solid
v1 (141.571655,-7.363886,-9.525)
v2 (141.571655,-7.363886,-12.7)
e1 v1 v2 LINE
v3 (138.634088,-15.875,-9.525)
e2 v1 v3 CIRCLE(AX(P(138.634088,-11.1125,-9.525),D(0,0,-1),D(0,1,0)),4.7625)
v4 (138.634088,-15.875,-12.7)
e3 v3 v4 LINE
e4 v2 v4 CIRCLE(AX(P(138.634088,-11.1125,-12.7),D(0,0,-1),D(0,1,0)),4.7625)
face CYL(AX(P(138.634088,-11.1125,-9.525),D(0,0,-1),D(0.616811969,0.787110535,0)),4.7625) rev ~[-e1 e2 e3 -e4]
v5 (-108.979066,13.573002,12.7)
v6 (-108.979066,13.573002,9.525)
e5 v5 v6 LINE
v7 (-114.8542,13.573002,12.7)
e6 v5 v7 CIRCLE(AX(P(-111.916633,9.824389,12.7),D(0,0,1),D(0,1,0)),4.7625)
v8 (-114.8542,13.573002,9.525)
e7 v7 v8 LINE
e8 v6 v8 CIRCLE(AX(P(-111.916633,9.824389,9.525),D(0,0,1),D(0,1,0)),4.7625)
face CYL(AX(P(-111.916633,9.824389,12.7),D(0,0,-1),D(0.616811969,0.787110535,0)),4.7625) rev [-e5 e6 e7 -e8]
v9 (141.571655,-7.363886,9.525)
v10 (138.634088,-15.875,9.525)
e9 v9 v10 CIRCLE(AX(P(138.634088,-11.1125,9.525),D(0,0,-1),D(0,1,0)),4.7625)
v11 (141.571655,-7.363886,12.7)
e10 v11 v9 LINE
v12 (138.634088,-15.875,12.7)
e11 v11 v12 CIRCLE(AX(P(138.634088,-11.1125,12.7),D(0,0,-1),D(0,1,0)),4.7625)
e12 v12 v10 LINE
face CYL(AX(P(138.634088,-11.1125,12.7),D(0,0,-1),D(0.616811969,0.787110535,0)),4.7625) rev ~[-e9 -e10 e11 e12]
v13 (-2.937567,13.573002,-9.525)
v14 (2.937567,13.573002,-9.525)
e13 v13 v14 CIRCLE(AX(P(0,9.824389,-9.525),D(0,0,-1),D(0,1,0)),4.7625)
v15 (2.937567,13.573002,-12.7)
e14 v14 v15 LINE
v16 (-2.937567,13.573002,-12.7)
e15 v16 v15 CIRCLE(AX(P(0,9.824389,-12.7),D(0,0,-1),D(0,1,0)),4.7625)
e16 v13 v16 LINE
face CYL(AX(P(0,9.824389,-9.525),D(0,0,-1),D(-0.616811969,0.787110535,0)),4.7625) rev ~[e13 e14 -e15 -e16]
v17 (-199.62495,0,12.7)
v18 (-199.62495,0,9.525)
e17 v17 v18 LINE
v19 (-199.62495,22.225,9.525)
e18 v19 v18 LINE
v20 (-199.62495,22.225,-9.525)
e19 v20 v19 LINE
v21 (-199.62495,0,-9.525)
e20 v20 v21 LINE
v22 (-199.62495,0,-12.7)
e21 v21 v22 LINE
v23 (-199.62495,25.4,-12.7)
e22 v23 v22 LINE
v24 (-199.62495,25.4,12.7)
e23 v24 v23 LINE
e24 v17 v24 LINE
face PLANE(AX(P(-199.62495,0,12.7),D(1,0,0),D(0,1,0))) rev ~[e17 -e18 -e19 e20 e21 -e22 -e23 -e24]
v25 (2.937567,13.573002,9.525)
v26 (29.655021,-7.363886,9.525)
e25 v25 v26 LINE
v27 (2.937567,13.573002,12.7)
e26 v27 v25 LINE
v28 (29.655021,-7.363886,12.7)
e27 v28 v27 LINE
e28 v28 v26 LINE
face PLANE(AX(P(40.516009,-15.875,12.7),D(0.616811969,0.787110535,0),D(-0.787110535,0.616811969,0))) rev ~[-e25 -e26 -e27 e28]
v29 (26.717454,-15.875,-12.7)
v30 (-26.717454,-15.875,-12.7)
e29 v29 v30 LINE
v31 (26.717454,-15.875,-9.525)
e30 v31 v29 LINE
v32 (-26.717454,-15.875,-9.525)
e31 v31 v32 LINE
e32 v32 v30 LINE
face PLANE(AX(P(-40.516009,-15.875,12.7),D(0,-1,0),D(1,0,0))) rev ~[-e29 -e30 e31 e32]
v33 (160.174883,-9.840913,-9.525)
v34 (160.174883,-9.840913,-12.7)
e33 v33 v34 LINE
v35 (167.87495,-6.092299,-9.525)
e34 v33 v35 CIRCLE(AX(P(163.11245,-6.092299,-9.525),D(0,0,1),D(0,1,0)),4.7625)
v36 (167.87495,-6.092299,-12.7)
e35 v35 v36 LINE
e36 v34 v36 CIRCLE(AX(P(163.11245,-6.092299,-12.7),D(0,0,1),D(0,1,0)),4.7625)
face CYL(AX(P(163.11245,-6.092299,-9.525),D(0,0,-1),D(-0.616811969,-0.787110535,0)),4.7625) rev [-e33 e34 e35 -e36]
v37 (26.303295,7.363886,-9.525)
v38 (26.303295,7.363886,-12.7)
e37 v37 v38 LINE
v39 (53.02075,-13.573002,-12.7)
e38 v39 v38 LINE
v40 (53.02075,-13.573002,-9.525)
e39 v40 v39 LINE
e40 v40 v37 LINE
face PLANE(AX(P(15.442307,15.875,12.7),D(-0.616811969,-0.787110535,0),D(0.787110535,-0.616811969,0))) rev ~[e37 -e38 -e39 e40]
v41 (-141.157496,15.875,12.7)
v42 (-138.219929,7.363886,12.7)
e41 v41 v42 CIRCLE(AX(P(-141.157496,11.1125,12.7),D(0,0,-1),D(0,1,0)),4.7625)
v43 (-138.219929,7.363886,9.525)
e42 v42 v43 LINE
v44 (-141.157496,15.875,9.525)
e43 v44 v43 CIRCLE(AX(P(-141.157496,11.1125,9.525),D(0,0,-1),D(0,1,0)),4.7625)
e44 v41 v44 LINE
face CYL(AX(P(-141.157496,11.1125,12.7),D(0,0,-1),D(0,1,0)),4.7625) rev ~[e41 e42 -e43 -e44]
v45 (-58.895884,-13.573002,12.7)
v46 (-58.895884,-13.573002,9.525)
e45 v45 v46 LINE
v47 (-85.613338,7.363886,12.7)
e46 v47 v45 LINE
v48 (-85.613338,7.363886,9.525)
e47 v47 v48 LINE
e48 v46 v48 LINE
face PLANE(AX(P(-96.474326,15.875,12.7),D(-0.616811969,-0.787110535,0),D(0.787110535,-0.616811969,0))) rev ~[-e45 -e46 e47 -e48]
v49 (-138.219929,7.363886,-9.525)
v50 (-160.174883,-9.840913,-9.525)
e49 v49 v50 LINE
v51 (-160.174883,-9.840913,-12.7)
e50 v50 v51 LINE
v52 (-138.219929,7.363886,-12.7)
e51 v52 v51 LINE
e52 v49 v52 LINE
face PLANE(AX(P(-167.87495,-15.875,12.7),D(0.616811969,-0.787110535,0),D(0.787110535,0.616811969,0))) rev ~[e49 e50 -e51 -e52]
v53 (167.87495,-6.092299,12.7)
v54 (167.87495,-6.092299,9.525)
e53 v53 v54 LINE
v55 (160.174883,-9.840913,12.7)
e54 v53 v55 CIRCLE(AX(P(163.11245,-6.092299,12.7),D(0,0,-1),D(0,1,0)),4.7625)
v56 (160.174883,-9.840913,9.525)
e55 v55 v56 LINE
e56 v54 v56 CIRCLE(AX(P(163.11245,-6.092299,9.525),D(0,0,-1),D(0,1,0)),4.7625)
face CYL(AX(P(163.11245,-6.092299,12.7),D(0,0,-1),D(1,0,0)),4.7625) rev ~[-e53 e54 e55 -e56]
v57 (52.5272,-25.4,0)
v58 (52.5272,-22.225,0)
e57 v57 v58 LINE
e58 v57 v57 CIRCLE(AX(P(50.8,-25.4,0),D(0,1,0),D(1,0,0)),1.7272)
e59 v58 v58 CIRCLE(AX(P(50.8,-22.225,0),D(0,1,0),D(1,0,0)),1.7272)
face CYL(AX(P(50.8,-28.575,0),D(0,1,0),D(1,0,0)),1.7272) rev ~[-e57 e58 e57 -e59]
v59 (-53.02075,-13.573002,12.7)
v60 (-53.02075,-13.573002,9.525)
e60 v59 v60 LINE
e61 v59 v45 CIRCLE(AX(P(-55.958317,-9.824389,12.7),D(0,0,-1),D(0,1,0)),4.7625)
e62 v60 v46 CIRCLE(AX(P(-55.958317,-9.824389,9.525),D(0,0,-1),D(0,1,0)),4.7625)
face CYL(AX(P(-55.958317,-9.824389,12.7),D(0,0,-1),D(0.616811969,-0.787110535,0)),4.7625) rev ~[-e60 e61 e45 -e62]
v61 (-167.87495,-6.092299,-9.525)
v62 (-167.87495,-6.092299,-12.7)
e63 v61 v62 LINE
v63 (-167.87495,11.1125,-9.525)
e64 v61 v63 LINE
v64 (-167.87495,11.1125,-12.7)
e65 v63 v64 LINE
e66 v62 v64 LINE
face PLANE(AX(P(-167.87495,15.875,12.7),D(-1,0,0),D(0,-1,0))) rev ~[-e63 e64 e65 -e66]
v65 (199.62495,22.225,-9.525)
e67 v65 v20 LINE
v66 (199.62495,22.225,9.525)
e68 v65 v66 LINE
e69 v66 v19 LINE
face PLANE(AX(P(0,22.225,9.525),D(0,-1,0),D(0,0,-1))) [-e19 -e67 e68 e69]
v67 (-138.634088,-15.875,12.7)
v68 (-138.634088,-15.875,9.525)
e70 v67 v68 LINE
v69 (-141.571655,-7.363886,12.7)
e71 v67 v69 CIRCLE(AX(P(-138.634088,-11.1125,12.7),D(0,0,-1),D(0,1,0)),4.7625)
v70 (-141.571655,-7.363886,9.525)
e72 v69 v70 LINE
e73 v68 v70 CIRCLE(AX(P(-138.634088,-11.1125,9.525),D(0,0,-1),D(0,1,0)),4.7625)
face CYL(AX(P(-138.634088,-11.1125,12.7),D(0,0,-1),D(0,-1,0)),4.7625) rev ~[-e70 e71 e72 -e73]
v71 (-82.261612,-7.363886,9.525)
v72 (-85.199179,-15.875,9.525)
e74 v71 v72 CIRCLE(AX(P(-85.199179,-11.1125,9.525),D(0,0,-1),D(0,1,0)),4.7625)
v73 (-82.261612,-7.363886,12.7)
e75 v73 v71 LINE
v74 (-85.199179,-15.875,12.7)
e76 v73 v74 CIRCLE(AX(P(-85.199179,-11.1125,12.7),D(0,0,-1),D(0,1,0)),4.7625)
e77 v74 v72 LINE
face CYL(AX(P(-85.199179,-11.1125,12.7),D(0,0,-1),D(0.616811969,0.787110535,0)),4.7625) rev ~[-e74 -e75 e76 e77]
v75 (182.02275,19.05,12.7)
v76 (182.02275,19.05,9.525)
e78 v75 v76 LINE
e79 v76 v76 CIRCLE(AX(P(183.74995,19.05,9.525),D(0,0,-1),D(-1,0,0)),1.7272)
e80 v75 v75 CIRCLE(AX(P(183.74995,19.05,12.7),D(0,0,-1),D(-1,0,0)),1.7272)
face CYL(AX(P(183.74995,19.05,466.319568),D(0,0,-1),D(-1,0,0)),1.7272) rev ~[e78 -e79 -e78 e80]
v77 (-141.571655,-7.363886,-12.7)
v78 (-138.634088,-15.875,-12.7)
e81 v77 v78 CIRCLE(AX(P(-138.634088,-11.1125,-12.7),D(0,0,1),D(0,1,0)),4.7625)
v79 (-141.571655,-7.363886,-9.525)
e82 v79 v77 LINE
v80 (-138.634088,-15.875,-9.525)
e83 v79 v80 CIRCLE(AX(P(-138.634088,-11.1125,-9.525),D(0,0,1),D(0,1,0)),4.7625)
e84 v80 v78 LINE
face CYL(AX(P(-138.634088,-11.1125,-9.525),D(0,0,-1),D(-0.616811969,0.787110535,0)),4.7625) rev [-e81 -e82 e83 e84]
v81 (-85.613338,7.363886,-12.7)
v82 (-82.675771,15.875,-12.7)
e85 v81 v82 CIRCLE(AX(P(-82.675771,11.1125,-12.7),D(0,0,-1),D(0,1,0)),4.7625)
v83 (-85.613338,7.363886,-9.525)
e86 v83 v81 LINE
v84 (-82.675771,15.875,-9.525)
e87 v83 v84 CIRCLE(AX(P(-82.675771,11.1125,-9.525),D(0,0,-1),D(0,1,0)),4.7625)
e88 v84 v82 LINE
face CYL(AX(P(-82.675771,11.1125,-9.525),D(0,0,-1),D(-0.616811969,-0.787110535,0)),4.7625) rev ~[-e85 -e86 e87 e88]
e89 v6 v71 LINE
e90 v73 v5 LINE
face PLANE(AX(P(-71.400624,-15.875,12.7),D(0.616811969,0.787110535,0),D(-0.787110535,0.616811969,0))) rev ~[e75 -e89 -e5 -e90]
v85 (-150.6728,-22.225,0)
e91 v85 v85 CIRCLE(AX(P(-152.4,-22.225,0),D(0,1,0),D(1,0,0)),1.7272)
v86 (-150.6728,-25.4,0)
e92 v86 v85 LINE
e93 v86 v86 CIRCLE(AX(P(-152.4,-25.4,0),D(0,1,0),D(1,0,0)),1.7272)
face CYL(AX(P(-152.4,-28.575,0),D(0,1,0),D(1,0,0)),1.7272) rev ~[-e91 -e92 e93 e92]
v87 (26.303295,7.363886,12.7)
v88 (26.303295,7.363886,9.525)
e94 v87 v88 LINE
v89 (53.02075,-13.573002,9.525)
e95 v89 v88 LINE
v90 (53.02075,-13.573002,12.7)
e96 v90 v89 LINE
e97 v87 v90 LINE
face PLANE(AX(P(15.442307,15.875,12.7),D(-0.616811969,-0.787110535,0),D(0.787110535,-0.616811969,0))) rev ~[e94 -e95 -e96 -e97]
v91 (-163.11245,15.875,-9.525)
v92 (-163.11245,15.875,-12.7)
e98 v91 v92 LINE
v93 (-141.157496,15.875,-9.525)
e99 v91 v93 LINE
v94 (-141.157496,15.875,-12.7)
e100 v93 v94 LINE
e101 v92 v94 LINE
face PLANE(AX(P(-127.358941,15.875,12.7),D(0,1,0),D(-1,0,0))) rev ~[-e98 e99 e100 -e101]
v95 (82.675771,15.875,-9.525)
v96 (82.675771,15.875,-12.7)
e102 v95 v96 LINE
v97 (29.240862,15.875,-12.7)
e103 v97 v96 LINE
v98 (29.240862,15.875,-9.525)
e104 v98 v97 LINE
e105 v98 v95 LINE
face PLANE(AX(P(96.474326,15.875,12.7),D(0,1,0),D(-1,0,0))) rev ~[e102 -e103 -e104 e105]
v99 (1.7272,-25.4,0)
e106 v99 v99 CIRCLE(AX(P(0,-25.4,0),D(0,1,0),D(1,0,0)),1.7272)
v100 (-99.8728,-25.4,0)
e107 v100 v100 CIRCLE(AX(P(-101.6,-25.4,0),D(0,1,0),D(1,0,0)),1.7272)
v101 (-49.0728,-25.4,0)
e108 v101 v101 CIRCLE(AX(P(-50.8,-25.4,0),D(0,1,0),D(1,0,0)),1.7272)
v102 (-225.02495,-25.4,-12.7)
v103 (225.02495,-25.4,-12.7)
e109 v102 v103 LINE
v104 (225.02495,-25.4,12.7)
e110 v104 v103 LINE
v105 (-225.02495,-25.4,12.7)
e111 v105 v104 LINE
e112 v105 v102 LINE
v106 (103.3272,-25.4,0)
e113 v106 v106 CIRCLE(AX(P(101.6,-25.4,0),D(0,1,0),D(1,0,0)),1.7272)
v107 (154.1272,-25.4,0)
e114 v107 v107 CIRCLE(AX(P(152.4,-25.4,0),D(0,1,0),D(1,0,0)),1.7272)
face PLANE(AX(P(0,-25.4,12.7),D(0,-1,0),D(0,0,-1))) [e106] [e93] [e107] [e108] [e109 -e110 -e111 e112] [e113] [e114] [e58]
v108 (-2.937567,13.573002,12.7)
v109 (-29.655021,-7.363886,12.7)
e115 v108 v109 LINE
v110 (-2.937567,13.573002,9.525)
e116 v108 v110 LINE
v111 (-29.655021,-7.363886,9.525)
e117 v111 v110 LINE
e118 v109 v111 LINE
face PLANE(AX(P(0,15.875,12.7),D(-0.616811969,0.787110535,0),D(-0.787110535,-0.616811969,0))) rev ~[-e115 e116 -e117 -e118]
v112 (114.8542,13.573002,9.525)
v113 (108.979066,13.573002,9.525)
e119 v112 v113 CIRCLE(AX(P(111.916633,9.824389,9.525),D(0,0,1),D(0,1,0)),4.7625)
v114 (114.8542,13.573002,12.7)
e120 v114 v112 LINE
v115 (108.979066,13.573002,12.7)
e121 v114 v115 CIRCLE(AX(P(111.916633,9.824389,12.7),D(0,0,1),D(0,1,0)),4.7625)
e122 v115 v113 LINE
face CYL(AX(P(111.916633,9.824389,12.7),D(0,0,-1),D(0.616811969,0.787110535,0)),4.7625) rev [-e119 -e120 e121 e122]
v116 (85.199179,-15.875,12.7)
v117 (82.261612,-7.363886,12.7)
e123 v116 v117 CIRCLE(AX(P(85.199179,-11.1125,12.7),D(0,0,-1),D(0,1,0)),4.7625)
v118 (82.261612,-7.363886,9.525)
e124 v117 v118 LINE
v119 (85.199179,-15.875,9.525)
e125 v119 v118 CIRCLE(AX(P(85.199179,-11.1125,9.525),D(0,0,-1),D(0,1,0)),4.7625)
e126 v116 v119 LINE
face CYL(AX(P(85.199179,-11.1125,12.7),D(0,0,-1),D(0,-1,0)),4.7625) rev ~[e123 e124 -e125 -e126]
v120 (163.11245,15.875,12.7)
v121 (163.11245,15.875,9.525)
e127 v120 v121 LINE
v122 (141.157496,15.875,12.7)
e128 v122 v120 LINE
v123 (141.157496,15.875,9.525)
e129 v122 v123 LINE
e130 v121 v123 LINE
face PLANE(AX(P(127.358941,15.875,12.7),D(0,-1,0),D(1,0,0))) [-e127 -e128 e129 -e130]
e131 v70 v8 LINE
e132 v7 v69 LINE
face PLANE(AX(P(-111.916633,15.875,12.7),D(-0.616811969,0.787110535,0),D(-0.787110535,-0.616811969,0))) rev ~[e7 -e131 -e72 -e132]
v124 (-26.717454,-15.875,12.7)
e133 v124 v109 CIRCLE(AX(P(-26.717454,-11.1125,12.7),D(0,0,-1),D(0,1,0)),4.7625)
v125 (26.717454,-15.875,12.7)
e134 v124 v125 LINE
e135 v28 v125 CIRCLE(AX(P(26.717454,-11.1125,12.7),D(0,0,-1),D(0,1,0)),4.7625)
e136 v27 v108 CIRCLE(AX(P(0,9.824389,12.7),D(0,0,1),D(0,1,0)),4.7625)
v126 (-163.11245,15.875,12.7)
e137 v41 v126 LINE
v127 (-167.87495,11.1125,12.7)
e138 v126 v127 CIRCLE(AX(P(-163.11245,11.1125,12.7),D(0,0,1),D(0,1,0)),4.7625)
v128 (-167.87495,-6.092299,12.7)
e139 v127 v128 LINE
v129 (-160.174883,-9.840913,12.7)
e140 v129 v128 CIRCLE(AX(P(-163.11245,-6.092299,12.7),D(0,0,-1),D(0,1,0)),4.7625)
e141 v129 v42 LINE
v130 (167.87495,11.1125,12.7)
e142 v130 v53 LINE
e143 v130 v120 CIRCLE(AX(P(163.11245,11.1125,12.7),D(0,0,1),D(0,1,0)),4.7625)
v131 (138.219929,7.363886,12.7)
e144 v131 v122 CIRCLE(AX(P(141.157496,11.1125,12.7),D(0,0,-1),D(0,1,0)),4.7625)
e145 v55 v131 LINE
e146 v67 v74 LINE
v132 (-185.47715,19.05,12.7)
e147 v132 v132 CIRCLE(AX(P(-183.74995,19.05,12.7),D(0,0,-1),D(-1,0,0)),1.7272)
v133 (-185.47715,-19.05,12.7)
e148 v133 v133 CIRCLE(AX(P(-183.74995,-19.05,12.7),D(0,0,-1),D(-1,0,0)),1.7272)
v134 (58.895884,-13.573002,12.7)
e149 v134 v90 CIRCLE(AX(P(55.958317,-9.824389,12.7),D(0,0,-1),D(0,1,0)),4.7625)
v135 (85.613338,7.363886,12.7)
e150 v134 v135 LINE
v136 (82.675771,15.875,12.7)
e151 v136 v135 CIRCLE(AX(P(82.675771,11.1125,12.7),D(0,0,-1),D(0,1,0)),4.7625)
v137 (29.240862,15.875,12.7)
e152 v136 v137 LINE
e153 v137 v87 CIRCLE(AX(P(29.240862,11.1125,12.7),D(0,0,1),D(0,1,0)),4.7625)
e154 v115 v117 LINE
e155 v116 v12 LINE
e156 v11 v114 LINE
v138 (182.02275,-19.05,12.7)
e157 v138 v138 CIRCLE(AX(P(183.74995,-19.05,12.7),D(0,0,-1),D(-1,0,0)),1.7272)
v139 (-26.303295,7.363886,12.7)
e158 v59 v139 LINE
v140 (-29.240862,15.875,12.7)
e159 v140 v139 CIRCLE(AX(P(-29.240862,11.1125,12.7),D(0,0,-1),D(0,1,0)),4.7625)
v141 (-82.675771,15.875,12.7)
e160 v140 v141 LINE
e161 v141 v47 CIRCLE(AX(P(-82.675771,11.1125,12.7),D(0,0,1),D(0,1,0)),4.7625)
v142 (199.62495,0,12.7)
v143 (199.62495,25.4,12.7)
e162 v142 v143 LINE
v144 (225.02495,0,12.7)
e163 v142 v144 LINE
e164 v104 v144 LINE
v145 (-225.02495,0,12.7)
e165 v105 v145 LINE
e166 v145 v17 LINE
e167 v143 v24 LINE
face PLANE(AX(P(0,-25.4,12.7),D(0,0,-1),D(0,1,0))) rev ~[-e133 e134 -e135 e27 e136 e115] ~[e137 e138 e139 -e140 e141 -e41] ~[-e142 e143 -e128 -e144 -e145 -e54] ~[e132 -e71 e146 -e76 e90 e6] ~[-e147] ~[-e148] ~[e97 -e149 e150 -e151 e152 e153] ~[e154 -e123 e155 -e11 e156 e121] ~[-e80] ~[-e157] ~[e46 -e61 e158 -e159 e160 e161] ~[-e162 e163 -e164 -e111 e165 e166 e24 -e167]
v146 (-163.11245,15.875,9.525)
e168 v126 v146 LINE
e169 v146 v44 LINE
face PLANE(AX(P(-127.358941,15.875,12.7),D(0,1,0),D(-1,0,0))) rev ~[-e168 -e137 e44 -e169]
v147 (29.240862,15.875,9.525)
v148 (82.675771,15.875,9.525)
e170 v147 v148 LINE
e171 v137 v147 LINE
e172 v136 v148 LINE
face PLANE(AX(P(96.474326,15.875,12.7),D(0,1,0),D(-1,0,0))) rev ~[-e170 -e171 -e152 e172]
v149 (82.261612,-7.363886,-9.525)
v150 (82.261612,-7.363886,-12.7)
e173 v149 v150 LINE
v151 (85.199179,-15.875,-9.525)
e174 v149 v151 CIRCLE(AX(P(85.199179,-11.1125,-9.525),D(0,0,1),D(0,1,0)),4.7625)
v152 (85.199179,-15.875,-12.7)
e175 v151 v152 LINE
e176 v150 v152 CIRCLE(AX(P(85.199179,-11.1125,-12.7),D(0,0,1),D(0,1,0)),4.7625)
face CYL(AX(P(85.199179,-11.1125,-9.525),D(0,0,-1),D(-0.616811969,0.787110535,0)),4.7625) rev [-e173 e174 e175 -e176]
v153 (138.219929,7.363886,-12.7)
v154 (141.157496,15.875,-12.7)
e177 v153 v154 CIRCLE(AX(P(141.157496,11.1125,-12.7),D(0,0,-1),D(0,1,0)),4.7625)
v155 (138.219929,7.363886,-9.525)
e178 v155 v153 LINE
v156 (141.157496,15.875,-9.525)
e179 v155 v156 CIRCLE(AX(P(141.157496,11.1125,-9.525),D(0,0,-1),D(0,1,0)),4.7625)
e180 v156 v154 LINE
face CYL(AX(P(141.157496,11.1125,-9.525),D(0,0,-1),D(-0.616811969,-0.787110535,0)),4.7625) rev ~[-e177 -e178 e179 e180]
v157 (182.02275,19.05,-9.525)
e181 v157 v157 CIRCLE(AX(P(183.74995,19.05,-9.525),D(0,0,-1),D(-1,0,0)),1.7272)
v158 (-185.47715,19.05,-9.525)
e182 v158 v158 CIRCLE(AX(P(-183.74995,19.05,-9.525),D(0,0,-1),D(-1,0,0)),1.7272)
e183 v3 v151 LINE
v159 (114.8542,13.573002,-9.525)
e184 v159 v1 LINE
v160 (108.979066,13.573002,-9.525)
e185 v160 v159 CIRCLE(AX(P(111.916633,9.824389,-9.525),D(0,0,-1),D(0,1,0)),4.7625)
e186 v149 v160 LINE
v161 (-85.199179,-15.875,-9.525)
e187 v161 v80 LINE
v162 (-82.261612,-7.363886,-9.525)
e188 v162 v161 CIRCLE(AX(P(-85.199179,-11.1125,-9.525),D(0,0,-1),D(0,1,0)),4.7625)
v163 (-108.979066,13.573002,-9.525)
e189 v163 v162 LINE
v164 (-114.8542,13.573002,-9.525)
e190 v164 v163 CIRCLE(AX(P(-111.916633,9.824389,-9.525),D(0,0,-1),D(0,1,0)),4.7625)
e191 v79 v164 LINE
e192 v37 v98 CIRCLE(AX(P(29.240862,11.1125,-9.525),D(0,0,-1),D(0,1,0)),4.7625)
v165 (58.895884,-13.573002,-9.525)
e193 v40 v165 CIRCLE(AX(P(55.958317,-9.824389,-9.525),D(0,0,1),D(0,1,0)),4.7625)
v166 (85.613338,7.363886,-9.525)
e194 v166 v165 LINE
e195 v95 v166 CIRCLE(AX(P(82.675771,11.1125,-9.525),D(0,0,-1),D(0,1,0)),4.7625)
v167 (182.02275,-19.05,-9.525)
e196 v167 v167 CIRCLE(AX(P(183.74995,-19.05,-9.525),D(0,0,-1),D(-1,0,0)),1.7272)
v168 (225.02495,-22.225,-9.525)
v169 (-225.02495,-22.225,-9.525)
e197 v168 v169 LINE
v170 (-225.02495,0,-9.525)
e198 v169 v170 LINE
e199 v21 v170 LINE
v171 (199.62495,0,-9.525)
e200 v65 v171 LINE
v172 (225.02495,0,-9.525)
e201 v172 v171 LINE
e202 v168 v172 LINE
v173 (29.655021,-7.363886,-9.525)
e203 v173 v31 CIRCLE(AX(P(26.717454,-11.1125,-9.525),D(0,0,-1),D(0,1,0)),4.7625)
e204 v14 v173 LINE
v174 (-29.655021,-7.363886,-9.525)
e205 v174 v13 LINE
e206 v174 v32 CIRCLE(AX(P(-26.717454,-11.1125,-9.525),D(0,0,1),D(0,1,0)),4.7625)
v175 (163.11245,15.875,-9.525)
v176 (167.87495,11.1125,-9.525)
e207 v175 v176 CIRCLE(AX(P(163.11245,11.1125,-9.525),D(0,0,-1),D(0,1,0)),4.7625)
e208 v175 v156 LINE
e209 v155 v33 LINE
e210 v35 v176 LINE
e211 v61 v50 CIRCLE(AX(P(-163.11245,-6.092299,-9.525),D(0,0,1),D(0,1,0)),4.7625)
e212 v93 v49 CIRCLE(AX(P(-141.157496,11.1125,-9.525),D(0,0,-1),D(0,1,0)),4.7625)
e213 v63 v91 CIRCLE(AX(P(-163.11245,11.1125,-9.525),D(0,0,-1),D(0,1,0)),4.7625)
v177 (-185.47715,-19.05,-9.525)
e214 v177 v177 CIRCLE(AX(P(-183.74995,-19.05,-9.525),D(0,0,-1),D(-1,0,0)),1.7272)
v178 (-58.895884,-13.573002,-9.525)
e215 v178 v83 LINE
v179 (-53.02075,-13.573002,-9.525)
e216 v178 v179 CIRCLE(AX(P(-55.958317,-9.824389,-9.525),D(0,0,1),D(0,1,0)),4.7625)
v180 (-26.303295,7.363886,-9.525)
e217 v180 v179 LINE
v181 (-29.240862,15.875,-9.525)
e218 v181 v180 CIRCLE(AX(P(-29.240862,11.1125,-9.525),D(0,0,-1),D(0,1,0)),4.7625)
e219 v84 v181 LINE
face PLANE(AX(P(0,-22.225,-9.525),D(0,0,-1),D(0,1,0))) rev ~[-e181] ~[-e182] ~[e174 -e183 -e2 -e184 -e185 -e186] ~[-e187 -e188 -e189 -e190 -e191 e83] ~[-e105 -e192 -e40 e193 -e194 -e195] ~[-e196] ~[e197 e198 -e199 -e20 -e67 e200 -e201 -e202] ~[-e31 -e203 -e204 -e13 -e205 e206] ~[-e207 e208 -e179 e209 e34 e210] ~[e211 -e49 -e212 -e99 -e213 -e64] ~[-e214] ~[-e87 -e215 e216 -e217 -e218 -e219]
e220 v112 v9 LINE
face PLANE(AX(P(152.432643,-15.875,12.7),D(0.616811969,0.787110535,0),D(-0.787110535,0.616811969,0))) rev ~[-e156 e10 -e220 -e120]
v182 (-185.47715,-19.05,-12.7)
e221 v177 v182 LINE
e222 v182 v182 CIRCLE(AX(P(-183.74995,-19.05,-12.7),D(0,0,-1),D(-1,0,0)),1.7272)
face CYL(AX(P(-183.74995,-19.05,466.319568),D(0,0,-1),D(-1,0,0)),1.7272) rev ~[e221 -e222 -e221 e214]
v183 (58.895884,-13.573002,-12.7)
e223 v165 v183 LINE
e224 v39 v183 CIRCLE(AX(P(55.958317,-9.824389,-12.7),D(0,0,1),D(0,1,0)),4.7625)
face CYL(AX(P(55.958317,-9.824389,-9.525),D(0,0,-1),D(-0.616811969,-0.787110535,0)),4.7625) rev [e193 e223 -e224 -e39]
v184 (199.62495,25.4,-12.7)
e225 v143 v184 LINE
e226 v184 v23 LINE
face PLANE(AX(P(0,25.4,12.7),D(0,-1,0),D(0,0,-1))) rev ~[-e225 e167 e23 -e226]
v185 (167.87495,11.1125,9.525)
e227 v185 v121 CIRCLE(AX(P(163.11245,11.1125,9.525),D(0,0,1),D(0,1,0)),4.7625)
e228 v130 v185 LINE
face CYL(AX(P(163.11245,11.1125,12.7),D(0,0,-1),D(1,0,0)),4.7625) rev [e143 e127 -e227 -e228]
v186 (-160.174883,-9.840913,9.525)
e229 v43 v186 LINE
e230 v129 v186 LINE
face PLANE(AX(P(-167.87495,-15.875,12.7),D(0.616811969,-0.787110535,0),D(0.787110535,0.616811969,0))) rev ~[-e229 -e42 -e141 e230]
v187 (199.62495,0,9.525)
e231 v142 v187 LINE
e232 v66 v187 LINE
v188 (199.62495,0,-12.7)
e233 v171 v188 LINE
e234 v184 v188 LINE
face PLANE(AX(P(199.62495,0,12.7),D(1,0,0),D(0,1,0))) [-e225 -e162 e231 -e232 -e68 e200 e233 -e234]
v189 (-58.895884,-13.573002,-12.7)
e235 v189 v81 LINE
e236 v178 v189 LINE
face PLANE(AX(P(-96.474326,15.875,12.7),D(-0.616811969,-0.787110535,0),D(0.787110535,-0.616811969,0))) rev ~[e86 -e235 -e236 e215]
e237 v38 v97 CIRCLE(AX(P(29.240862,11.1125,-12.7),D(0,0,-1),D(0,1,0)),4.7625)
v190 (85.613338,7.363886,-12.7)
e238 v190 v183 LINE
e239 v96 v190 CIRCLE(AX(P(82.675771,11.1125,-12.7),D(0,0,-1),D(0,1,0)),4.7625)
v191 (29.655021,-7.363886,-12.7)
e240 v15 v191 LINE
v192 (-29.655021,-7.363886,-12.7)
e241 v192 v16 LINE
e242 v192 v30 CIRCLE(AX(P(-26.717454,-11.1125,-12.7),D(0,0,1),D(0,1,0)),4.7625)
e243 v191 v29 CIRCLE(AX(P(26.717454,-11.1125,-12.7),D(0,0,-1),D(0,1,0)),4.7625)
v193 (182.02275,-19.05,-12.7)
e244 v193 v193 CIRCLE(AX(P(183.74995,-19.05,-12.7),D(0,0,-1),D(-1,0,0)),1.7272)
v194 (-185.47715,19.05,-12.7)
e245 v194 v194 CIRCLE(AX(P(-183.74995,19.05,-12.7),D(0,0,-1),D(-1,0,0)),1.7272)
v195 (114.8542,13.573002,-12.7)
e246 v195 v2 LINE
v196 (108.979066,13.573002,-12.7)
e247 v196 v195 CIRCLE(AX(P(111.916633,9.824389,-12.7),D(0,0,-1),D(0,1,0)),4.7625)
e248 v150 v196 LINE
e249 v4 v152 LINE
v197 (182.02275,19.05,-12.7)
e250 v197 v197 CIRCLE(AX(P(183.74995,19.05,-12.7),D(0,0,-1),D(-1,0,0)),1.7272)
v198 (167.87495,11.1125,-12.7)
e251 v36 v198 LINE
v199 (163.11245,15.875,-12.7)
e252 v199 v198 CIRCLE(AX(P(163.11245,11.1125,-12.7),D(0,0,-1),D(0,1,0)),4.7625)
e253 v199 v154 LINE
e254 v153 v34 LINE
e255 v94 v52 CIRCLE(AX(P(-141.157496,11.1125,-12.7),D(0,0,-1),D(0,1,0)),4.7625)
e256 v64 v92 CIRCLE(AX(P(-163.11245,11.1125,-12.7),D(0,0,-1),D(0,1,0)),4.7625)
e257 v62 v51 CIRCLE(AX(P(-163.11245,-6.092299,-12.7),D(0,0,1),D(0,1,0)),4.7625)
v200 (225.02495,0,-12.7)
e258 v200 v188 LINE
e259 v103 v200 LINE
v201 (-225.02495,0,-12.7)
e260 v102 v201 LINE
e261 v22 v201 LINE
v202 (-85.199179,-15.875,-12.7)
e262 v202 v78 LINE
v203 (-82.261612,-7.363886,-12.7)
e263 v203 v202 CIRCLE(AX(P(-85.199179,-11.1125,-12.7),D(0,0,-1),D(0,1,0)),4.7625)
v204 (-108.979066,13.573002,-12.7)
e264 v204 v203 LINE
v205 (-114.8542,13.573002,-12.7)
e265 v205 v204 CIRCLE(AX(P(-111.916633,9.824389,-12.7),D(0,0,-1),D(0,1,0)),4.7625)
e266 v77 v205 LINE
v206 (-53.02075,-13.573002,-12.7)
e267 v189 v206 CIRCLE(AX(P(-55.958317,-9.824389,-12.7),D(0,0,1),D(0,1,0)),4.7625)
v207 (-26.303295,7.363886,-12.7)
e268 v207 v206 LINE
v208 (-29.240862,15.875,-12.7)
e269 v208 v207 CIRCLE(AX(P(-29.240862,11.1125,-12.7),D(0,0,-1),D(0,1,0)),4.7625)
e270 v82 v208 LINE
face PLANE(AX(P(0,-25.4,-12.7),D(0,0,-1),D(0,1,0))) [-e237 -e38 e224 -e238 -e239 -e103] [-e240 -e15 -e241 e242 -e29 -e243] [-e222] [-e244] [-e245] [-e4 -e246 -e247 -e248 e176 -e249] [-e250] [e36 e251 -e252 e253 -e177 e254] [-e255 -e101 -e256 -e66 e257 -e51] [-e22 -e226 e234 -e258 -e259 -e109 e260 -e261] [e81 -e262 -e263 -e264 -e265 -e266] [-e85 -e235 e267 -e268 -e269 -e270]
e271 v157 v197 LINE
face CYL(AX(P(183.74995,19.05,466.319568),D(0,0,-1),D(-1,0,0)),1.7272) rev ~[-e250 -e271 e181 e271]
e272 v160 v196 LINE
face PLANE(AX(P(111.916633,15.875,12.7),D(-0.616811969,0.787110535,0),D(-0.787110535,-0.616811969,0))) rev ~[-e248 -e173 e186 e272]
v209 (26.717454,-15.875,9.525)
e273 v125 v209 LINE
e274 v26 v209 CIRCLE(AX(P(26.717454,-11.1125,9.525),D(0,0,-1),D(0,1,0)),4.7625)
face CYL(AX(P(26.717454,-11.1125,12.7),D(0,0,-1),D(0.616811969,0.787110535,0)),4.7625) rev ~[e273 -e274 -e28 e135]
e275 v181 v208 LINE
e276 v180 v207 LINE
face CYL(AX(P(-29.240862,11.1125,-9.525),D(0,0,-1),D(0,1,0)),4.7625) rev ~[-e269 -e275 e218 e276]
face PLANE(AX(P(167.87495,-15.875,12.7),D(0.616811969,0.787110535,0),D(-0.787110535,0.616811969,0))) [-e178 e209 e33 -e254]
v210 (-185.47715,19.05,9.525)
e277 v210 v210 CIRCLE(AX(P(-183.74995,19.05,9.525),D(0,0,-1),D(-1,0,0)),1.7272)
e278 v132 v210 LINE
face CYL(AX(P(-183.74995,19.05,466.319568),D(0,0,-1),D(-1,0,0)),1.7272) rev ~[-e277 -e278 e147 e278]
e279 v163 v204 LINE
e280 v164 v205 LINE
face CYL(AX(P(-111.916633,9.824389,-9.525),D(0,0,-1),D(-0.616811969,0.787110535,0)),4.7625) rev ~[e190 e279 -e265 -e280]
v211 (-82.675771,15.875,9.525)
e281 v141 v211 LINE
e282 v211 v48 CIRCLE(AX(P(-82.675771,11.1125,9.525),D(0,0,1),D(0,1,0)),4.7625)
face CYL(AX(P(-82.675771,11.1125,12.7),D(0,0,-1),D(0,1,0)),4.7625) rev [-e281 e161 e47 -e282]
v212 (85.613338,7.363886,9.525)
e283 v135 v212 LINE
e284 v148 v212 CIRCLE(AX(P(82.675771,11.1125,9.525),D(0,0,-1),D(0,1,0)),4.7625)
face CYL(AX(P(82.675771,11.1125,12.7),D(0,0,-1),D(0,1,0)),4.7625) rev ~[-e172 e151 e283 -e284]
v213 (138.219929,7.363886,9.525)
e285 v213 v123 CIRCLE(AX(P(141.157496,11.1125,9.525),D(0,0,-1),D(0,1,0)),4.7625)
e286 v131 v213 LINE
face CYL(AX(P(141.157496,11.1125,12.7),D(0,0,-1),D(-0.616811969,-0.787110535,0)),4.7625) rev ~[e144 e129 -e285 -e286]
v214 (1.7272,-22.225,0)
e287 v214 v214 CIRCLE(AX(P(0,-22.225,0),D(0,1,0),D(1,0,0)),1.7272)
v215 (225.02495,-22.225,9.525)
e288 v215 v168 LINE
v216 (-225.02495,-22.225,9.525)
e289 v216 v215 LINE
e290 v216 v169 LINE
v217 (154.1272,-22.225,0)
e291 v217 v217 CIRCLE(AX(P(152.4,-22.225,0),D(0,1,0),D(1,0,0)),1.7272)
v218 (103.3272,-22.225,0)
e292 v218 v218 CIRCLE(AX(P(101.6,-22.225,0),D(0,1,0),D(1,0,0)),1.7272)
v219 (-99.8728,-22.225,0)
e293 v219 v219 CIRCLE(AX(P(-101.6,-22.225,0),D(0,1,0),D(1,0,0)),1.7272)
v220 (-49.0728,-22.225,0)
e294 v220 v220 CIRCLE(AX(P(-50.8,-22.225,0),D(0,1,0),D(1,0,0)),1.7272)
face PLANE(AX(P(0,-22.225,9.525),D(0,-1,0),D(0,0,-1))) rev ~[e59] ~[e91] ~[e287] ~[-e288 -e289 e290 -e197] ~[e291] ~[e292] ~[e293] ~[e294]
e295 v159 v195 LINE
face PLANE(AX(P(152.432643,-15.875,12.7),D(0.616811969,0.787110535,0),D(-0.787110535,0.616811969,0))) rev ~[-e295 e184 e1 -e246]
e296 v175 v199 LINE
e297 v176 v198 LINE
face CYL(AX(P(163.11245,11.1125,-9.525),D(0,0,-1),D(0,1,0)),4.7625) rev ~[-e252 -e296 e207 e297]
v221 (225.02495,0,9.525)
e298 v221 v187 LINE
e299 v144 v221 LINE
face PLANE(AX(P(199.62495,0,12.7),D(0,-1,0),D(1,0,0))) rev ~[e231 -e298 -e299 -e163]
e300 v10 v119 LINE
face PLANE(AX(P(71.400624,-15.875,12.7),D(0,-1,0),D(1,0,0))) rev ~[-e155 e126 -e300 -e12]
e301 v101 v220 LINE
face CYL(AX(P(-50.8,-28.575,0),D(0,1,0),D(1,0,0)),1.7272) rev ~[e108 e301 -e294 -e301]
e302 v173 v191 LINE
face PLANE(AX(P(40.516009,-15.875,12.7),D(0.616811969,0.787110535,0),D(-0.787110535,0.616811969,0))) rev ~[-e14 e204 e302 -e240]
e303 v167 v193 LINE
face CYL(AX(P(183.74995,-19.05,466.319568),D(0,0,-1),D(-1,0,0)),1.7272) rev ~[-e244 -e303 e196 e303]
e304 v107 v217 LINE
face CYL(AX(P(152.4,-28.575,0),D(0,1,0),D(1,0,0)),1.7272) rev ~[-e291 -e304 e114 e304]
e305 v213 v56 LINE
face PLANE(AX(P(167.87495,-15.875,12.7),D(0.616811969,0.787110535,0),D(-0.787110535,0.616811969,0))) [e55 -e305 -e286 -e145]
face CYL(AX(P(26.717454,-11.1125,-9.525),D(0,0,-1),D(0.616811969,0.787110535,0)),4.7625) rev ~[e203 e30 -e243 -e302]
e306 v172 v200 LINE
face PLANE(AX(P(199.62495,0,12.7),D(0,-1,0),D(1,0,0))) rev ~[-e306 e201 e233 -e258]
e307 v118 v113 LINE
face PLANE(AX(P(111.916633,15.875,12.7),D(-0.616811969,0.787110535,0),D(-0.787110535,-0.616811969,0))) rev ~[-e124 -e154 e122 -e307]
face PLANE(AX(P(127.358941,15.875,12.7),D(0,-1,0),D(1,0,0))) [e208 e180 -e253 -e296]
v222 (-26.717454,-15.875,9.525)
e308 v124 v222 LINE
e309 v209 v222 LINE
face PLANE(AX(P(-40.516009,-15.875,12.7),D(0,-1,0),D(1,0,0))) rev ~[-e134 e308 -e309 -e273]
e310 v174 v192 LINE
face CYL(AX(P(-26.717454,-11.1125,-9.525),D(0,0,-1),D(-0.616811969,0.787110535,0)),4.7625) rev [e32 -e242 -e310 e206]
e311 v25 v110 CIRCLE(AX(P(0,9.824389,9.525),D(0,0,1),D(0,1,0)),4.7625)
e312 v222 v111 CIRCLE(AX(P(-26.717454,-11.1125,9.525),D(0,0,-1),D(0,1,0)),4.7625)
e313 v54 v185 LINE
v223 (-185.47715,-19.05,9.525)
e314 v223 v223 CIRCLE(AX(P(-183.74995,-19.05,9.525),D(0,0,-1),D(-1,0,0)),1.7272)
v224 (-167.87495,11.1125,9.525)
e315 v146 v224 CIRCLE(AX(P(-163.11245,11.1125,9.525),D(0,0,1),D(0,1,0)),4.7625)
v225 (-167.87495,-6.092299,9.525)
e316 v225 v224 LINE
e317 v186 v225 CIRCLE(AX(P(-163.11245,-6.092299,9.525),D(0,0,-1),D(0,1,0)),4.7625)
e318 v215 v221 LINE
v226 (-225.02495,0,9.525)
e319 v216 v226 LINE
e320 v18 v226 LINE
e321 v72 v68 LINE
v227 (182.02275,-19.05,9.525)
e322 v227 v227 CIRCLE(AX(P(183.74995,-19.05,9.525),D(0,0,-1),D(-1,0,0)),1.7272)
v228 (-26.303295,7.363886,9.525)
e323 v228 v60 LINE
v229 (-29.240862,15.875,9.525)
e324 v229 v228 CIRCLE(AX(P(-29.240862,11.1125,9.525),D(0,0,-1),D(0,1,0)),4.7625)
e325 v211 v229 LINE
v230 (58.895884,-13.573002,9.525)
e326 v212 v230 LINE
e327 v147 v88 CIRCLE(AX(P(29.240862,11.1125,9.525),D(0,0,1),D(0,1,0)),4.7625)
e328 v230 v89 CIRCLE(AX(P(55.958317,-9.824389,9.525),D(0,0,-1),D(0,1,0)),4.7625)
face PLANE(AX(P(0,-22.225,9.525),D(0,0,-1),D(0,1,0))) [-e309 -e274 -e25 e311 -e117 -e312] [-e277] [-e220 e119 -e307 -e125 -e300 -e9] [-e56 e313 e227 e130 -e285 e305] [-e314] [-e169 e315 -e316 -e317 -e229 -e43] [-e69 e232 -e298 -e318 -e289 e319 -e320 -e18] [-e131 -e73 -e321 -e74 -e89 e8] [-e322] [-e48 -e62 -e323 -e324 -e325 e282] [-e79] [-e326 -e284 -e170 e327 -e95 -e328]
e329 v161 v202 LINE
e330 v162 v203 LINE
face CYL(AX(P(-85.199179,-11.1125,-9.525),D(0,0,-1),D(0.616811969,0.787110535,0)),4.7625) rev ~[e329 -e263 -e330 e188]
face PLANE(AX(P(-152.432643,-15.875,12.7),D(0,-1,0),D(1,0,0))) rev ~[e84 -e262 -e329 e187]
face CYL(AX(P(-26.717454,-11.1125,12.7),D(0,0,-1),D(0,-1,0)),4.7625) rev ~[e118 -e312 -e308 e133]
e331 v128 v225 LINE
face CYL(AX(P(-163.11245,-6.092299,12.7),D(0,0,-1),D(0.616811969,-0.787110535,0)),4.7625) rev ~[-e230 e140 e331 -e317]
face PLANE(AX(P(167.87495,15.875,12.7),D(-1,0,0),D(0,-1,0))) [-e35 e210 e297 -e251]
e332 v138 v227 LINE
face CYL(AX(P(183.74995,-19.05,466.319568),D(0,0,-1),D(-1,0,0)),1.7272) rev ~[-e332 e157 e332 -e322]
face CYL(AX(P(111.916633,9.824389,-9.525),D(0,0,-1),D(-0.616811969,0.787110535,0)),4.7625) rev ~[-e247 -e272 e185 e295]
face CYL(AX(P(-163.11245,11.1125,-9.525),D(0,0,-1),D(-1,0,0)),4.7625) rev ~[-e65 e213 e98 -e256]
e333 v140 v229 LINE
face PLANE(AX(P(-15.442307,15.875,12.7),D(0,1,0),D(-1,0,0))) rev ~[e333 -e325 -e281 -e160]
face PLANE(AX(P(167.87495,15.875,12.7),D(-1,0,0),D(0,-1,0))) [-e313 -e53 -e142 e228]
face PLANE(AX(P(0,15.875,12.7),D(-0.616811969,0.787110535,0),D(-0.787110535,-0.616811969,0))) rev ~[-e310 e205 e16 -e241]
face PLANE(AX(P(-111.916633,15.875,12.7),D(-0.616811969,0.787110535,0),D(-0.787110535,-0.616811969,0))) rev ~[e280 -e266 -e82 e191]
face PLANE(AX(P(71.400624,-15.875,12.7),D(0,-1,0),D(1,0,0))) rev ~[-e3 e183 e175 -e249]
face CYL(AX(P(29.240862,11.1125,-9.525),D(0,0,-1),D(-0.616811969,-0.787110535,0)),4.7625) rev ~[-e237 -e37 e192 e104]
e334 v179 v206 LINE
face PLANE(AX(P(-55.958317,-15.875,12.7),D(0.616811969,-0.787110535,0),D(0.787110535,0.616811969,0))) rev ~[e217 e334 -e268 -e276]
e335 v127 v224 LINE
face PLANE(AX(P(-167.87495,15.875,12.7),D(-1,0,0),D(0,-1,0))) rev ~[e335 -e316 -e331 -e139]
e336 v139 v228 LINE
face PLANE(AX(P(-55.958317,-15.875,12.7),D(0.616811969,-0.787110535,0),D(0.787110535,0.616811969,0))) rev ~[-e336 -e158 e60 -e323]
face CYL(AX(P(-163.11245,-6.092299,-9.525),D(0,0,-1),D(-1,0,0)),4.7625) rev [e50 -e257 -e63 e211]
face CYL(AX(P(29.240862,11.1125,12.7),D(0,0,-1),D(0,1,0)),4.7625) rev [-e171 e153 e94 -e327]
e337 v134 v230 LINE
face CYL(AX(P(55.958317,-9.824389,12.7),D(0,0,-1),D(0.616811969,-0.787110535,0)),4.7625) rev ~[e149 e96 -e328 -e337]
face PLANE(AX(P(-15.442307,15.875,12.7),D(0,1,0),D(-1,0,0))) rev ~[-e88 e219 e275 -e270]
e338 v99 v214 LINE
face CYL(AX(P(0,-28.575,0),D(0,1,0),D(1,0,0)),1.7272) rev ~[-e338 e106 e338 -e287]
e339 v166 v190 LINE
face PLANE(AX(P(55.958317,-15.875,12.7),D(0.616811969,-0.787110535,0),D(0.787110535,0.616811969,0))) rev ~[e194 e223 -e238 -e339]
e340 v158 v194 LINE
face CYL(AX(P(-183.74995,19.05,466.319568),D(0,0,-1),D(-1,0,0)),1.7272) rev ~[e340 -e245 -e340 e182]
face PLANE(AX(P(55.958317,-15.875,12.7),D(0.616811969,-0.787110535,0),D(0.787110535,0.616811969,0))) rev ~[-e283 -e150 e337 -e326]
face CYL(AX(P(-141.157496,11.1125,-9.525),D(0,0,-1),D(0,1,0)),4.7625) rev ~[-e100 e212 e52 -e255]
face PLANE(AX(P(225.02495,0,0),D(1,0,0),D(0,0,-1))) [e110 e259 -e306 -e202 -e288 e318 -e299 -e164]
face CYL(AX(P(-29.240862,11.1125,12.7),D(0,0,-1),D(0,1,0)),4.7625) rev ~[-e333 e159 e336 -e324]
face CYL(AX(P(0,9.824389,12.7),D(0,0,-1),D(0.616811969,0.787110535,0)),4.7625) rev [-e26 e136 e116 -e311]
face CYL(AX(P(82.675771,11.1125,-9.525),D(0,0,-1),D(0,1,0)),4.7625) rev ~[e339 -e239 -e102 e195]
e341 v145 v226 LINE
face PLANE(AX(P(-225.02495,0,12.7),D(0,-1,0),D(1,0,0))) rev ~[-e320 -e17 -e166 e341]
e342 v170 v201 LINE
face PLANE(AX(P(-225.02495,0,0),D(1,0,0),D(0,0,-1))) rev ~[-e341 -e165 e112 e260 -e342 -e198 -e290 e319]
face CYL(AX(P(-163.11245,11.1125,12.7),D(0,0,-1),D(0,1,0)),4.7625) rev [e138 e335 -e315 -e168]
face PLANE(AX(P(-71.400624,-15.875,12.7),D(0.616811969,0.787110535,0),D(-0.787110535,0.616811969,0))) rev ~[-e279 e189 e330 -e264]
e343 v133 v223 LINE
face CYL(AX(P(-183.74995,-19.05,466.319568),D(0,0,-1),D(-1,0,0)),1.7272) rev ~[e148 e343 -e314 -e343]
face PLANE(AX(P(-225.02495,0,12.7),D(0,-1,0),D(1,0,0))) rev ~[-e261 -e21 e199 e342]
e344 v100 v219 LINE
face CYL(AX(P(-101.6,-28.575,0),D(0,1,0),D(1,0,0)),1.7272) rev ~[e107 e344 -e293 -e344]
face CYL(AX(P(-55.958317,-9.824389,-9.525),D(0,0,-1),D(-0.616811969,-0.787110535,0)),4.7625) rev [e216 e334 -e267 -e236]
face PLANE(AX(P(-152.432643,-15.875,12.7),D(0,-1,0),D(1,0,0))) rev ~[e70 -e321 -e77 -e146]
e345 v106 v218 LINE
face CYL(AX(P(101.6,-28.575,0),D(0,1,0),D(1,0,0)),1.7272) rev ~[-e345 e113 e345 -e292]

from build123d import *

# Parameters (mm, degrees)
SKETCH1_W                 = 25.4
SKETCH1_H                 = 50.8
SKETCH1_W_2               = 19.05
SKETCH1_H_2               = 44.45
BOSS_EXTRUDE1_DEPTH       = 225.02495
SKETCH2_W                 = 25.4
SKETCH2_H                 = 25.4
CUT_EXTRUDE1_DEPTH        = 228.873974211
F_8_32_TAPPED_HOLE1_D     = 3.4544
F_8_32_TAPPED_HOLE2_D     = 3.4544
F_8_32_TAPPED_HOLE2_DEPTH = 3.175
CUT_EXTRUDE2_DEPTH        = 228.873974211
FILLET1_R                 = 4.7625


with BuildPart() as part:
    # Sketch1 → Boss-Extrude1 (new, symmetric)
    with BuildSketch(Plane(origin=(0, 0, 0), x_dir=(0, 0, -1), z_dir=(1, 0, 0))):
        Rectangle(SKETCH1_W, SKETCH1_H)
        Rectangle(SKETCH1_W_2, SKETCH1_H_2, mode=Mode.SUBTRACT)
    extrude(amount=BOSS_EXTRUDE1_DEPTH, both=True)

    # Sketch2 → Cut-Extrude1 (cut, through all)
    with BuildSketch(Plane.XY.offset(12.7)):
        with Locations((-212.32495, 12.7)):
            Rectangle(SKETCH2_W, SKETCH2_H)
        with Locations((212.32495, 12.7)):
            Rectangle(SKETCH2_W, SKETCH2_H)
    extrude(amount=-CUT_EXTRUDE1_DEPTH, mode=Mode.SUBTRACT)

    # #8-32 Tapped Hole1 (through all)
    with Locations(Plane.XY.offset(12.7)):
        with Locations((-183.74995, 19.05), (-183.74995, -19.05), (183.74995, 19.05), (183.74995, -19.05)):
            Hole(F_8_32_TAPPED_HOLE1_D / 2)

    # #8-32 Tapped Hole2
    with Locations(Plane(origin=(0, -25.4, 0), x_dir=(-1, 0, 0), z_dir=(0, -1, 0))):
        with Locations((0, 0), (50.8, 0), (101.6, 0), (152.4, 0), (-50.8, 0), (-101.6, 0), (-152.4, 0)):
            Hole(F_8_32_TAPPED_HOLE2_D / 2, depth=F_8_32_TAPPED_HOLE2_DEPTH)

    # Sketch7 → Cut-Extrude2 (cut, through all)
    with BuildSketch(Plane.XY.offset(12.7)):
        Polygon((-167.87495, 15.875), (-167.87495, -15.875), (-127.358940675, 15.875), align=None)
        Polygon((-111.916633333, 15.875), (-152.432642658, -15.875), (-71.400624009, -15.875), align=None)
        Polygon((-96.474325991, 15.875), (-55.958316667, -15.875), (-15.442307342, 15.875), align=None)
        Polygon((0, 15.875), (-40.516009325, -15.875), (40.516009325, -15.875), align=None)
        Polygon((15.442307342, 15.875), (55.958316667, -15.875), (96.474325991, 15.875), align=None)
        Polygon((111.916633333, 15.875), (71.400624009, -15.875), (152.432642658, -15.875), align=None)
        Polygon((167.87495, 15.875), (167.87495, -15.875), (127.358940675, 15.875), align=None)
    extrude(amount=-CUT_EXTRUDE2_DEPTH, mode=Mode.SUBTRACT)

    # Fillet1
    fillet1_edges = [part.edges().sort_by_distance(p)[0] for p in [
        (-167.87495, 15.875, -11.1125),
        (-127.358940675, 15.875, -11.1125),
        (-167.87495, -15.875, -11.1125),
        (-167.87495, 15.875, 11.1125),
        (-127.358940675, 15.875, 11.1125),
        (-167.87495, -15.875, 11.1125),
        (-111.916633333, 15.875, -11.1125),
        (-71.400624009, -15.875, -11.1125),
        (-152.432642658, -15.875, -11.1125),
        (-111.916633333, 15.875, 11.1125),
        (-71.400624009, -15.875, 11.1125),
        (-152.432642658, -15.875, 11.1125),
        (0, 15.875, -11.1125),
        (40.516009325, -15.875, -11.1125),
        (-40.516009325, -15.875, -11.1125),
        (0, 15.875, 11.1125),
        (40.516009325, -15.875, 11.1125),
        (-40.516009325, -15.875, 11.1125),
        (-96.474325991, 15.875, -11.1125),
        (-15.442307342, 15.875, -11.1125),
        (-55.958316667, -15.875, -11.1125),
        (-96.474325991, 15.875, 11.1125),
        (-15.442307342, 15.875, 11.1125),
        (-55.958316667, -15.875, 11.1125),
        (15.442307342, 15.875, -11.1125),
        (96.474325991, 15.875, -11.1125),
        (55.958316667, -15.875, -11.1125),
        (15.442307342, 15.875, 11.1125),
        (96.474325991, 15.875, 11.1125),
        (55.958316667, -15.875, 11.1125),
        (111.916633333, 15.875, -11.1125),
        (152.432642658, -15.875, -11.1125),
        (71.400624009, -15.875, -11.1125),
        (111.916633333, 15.875, 11.1125),
        (152.432642658, -15.875, 11.1125),
        (71.400624009, -15.875, 11.1125),
        (127.358940675, 15.875, -11.1125),
        (167.87495, 15.875, -11.1125),
        (167.87495, -15.875, -11.1125),
        (127.358940675, 15.875, 11.1125),
        (167.87495, 15.875, 11.1125),
        (167.87495, -15.875, 11.1125),
    ]]
    fillet(fillet1_edges, radius=FILLET1_R)


solid = part.part
